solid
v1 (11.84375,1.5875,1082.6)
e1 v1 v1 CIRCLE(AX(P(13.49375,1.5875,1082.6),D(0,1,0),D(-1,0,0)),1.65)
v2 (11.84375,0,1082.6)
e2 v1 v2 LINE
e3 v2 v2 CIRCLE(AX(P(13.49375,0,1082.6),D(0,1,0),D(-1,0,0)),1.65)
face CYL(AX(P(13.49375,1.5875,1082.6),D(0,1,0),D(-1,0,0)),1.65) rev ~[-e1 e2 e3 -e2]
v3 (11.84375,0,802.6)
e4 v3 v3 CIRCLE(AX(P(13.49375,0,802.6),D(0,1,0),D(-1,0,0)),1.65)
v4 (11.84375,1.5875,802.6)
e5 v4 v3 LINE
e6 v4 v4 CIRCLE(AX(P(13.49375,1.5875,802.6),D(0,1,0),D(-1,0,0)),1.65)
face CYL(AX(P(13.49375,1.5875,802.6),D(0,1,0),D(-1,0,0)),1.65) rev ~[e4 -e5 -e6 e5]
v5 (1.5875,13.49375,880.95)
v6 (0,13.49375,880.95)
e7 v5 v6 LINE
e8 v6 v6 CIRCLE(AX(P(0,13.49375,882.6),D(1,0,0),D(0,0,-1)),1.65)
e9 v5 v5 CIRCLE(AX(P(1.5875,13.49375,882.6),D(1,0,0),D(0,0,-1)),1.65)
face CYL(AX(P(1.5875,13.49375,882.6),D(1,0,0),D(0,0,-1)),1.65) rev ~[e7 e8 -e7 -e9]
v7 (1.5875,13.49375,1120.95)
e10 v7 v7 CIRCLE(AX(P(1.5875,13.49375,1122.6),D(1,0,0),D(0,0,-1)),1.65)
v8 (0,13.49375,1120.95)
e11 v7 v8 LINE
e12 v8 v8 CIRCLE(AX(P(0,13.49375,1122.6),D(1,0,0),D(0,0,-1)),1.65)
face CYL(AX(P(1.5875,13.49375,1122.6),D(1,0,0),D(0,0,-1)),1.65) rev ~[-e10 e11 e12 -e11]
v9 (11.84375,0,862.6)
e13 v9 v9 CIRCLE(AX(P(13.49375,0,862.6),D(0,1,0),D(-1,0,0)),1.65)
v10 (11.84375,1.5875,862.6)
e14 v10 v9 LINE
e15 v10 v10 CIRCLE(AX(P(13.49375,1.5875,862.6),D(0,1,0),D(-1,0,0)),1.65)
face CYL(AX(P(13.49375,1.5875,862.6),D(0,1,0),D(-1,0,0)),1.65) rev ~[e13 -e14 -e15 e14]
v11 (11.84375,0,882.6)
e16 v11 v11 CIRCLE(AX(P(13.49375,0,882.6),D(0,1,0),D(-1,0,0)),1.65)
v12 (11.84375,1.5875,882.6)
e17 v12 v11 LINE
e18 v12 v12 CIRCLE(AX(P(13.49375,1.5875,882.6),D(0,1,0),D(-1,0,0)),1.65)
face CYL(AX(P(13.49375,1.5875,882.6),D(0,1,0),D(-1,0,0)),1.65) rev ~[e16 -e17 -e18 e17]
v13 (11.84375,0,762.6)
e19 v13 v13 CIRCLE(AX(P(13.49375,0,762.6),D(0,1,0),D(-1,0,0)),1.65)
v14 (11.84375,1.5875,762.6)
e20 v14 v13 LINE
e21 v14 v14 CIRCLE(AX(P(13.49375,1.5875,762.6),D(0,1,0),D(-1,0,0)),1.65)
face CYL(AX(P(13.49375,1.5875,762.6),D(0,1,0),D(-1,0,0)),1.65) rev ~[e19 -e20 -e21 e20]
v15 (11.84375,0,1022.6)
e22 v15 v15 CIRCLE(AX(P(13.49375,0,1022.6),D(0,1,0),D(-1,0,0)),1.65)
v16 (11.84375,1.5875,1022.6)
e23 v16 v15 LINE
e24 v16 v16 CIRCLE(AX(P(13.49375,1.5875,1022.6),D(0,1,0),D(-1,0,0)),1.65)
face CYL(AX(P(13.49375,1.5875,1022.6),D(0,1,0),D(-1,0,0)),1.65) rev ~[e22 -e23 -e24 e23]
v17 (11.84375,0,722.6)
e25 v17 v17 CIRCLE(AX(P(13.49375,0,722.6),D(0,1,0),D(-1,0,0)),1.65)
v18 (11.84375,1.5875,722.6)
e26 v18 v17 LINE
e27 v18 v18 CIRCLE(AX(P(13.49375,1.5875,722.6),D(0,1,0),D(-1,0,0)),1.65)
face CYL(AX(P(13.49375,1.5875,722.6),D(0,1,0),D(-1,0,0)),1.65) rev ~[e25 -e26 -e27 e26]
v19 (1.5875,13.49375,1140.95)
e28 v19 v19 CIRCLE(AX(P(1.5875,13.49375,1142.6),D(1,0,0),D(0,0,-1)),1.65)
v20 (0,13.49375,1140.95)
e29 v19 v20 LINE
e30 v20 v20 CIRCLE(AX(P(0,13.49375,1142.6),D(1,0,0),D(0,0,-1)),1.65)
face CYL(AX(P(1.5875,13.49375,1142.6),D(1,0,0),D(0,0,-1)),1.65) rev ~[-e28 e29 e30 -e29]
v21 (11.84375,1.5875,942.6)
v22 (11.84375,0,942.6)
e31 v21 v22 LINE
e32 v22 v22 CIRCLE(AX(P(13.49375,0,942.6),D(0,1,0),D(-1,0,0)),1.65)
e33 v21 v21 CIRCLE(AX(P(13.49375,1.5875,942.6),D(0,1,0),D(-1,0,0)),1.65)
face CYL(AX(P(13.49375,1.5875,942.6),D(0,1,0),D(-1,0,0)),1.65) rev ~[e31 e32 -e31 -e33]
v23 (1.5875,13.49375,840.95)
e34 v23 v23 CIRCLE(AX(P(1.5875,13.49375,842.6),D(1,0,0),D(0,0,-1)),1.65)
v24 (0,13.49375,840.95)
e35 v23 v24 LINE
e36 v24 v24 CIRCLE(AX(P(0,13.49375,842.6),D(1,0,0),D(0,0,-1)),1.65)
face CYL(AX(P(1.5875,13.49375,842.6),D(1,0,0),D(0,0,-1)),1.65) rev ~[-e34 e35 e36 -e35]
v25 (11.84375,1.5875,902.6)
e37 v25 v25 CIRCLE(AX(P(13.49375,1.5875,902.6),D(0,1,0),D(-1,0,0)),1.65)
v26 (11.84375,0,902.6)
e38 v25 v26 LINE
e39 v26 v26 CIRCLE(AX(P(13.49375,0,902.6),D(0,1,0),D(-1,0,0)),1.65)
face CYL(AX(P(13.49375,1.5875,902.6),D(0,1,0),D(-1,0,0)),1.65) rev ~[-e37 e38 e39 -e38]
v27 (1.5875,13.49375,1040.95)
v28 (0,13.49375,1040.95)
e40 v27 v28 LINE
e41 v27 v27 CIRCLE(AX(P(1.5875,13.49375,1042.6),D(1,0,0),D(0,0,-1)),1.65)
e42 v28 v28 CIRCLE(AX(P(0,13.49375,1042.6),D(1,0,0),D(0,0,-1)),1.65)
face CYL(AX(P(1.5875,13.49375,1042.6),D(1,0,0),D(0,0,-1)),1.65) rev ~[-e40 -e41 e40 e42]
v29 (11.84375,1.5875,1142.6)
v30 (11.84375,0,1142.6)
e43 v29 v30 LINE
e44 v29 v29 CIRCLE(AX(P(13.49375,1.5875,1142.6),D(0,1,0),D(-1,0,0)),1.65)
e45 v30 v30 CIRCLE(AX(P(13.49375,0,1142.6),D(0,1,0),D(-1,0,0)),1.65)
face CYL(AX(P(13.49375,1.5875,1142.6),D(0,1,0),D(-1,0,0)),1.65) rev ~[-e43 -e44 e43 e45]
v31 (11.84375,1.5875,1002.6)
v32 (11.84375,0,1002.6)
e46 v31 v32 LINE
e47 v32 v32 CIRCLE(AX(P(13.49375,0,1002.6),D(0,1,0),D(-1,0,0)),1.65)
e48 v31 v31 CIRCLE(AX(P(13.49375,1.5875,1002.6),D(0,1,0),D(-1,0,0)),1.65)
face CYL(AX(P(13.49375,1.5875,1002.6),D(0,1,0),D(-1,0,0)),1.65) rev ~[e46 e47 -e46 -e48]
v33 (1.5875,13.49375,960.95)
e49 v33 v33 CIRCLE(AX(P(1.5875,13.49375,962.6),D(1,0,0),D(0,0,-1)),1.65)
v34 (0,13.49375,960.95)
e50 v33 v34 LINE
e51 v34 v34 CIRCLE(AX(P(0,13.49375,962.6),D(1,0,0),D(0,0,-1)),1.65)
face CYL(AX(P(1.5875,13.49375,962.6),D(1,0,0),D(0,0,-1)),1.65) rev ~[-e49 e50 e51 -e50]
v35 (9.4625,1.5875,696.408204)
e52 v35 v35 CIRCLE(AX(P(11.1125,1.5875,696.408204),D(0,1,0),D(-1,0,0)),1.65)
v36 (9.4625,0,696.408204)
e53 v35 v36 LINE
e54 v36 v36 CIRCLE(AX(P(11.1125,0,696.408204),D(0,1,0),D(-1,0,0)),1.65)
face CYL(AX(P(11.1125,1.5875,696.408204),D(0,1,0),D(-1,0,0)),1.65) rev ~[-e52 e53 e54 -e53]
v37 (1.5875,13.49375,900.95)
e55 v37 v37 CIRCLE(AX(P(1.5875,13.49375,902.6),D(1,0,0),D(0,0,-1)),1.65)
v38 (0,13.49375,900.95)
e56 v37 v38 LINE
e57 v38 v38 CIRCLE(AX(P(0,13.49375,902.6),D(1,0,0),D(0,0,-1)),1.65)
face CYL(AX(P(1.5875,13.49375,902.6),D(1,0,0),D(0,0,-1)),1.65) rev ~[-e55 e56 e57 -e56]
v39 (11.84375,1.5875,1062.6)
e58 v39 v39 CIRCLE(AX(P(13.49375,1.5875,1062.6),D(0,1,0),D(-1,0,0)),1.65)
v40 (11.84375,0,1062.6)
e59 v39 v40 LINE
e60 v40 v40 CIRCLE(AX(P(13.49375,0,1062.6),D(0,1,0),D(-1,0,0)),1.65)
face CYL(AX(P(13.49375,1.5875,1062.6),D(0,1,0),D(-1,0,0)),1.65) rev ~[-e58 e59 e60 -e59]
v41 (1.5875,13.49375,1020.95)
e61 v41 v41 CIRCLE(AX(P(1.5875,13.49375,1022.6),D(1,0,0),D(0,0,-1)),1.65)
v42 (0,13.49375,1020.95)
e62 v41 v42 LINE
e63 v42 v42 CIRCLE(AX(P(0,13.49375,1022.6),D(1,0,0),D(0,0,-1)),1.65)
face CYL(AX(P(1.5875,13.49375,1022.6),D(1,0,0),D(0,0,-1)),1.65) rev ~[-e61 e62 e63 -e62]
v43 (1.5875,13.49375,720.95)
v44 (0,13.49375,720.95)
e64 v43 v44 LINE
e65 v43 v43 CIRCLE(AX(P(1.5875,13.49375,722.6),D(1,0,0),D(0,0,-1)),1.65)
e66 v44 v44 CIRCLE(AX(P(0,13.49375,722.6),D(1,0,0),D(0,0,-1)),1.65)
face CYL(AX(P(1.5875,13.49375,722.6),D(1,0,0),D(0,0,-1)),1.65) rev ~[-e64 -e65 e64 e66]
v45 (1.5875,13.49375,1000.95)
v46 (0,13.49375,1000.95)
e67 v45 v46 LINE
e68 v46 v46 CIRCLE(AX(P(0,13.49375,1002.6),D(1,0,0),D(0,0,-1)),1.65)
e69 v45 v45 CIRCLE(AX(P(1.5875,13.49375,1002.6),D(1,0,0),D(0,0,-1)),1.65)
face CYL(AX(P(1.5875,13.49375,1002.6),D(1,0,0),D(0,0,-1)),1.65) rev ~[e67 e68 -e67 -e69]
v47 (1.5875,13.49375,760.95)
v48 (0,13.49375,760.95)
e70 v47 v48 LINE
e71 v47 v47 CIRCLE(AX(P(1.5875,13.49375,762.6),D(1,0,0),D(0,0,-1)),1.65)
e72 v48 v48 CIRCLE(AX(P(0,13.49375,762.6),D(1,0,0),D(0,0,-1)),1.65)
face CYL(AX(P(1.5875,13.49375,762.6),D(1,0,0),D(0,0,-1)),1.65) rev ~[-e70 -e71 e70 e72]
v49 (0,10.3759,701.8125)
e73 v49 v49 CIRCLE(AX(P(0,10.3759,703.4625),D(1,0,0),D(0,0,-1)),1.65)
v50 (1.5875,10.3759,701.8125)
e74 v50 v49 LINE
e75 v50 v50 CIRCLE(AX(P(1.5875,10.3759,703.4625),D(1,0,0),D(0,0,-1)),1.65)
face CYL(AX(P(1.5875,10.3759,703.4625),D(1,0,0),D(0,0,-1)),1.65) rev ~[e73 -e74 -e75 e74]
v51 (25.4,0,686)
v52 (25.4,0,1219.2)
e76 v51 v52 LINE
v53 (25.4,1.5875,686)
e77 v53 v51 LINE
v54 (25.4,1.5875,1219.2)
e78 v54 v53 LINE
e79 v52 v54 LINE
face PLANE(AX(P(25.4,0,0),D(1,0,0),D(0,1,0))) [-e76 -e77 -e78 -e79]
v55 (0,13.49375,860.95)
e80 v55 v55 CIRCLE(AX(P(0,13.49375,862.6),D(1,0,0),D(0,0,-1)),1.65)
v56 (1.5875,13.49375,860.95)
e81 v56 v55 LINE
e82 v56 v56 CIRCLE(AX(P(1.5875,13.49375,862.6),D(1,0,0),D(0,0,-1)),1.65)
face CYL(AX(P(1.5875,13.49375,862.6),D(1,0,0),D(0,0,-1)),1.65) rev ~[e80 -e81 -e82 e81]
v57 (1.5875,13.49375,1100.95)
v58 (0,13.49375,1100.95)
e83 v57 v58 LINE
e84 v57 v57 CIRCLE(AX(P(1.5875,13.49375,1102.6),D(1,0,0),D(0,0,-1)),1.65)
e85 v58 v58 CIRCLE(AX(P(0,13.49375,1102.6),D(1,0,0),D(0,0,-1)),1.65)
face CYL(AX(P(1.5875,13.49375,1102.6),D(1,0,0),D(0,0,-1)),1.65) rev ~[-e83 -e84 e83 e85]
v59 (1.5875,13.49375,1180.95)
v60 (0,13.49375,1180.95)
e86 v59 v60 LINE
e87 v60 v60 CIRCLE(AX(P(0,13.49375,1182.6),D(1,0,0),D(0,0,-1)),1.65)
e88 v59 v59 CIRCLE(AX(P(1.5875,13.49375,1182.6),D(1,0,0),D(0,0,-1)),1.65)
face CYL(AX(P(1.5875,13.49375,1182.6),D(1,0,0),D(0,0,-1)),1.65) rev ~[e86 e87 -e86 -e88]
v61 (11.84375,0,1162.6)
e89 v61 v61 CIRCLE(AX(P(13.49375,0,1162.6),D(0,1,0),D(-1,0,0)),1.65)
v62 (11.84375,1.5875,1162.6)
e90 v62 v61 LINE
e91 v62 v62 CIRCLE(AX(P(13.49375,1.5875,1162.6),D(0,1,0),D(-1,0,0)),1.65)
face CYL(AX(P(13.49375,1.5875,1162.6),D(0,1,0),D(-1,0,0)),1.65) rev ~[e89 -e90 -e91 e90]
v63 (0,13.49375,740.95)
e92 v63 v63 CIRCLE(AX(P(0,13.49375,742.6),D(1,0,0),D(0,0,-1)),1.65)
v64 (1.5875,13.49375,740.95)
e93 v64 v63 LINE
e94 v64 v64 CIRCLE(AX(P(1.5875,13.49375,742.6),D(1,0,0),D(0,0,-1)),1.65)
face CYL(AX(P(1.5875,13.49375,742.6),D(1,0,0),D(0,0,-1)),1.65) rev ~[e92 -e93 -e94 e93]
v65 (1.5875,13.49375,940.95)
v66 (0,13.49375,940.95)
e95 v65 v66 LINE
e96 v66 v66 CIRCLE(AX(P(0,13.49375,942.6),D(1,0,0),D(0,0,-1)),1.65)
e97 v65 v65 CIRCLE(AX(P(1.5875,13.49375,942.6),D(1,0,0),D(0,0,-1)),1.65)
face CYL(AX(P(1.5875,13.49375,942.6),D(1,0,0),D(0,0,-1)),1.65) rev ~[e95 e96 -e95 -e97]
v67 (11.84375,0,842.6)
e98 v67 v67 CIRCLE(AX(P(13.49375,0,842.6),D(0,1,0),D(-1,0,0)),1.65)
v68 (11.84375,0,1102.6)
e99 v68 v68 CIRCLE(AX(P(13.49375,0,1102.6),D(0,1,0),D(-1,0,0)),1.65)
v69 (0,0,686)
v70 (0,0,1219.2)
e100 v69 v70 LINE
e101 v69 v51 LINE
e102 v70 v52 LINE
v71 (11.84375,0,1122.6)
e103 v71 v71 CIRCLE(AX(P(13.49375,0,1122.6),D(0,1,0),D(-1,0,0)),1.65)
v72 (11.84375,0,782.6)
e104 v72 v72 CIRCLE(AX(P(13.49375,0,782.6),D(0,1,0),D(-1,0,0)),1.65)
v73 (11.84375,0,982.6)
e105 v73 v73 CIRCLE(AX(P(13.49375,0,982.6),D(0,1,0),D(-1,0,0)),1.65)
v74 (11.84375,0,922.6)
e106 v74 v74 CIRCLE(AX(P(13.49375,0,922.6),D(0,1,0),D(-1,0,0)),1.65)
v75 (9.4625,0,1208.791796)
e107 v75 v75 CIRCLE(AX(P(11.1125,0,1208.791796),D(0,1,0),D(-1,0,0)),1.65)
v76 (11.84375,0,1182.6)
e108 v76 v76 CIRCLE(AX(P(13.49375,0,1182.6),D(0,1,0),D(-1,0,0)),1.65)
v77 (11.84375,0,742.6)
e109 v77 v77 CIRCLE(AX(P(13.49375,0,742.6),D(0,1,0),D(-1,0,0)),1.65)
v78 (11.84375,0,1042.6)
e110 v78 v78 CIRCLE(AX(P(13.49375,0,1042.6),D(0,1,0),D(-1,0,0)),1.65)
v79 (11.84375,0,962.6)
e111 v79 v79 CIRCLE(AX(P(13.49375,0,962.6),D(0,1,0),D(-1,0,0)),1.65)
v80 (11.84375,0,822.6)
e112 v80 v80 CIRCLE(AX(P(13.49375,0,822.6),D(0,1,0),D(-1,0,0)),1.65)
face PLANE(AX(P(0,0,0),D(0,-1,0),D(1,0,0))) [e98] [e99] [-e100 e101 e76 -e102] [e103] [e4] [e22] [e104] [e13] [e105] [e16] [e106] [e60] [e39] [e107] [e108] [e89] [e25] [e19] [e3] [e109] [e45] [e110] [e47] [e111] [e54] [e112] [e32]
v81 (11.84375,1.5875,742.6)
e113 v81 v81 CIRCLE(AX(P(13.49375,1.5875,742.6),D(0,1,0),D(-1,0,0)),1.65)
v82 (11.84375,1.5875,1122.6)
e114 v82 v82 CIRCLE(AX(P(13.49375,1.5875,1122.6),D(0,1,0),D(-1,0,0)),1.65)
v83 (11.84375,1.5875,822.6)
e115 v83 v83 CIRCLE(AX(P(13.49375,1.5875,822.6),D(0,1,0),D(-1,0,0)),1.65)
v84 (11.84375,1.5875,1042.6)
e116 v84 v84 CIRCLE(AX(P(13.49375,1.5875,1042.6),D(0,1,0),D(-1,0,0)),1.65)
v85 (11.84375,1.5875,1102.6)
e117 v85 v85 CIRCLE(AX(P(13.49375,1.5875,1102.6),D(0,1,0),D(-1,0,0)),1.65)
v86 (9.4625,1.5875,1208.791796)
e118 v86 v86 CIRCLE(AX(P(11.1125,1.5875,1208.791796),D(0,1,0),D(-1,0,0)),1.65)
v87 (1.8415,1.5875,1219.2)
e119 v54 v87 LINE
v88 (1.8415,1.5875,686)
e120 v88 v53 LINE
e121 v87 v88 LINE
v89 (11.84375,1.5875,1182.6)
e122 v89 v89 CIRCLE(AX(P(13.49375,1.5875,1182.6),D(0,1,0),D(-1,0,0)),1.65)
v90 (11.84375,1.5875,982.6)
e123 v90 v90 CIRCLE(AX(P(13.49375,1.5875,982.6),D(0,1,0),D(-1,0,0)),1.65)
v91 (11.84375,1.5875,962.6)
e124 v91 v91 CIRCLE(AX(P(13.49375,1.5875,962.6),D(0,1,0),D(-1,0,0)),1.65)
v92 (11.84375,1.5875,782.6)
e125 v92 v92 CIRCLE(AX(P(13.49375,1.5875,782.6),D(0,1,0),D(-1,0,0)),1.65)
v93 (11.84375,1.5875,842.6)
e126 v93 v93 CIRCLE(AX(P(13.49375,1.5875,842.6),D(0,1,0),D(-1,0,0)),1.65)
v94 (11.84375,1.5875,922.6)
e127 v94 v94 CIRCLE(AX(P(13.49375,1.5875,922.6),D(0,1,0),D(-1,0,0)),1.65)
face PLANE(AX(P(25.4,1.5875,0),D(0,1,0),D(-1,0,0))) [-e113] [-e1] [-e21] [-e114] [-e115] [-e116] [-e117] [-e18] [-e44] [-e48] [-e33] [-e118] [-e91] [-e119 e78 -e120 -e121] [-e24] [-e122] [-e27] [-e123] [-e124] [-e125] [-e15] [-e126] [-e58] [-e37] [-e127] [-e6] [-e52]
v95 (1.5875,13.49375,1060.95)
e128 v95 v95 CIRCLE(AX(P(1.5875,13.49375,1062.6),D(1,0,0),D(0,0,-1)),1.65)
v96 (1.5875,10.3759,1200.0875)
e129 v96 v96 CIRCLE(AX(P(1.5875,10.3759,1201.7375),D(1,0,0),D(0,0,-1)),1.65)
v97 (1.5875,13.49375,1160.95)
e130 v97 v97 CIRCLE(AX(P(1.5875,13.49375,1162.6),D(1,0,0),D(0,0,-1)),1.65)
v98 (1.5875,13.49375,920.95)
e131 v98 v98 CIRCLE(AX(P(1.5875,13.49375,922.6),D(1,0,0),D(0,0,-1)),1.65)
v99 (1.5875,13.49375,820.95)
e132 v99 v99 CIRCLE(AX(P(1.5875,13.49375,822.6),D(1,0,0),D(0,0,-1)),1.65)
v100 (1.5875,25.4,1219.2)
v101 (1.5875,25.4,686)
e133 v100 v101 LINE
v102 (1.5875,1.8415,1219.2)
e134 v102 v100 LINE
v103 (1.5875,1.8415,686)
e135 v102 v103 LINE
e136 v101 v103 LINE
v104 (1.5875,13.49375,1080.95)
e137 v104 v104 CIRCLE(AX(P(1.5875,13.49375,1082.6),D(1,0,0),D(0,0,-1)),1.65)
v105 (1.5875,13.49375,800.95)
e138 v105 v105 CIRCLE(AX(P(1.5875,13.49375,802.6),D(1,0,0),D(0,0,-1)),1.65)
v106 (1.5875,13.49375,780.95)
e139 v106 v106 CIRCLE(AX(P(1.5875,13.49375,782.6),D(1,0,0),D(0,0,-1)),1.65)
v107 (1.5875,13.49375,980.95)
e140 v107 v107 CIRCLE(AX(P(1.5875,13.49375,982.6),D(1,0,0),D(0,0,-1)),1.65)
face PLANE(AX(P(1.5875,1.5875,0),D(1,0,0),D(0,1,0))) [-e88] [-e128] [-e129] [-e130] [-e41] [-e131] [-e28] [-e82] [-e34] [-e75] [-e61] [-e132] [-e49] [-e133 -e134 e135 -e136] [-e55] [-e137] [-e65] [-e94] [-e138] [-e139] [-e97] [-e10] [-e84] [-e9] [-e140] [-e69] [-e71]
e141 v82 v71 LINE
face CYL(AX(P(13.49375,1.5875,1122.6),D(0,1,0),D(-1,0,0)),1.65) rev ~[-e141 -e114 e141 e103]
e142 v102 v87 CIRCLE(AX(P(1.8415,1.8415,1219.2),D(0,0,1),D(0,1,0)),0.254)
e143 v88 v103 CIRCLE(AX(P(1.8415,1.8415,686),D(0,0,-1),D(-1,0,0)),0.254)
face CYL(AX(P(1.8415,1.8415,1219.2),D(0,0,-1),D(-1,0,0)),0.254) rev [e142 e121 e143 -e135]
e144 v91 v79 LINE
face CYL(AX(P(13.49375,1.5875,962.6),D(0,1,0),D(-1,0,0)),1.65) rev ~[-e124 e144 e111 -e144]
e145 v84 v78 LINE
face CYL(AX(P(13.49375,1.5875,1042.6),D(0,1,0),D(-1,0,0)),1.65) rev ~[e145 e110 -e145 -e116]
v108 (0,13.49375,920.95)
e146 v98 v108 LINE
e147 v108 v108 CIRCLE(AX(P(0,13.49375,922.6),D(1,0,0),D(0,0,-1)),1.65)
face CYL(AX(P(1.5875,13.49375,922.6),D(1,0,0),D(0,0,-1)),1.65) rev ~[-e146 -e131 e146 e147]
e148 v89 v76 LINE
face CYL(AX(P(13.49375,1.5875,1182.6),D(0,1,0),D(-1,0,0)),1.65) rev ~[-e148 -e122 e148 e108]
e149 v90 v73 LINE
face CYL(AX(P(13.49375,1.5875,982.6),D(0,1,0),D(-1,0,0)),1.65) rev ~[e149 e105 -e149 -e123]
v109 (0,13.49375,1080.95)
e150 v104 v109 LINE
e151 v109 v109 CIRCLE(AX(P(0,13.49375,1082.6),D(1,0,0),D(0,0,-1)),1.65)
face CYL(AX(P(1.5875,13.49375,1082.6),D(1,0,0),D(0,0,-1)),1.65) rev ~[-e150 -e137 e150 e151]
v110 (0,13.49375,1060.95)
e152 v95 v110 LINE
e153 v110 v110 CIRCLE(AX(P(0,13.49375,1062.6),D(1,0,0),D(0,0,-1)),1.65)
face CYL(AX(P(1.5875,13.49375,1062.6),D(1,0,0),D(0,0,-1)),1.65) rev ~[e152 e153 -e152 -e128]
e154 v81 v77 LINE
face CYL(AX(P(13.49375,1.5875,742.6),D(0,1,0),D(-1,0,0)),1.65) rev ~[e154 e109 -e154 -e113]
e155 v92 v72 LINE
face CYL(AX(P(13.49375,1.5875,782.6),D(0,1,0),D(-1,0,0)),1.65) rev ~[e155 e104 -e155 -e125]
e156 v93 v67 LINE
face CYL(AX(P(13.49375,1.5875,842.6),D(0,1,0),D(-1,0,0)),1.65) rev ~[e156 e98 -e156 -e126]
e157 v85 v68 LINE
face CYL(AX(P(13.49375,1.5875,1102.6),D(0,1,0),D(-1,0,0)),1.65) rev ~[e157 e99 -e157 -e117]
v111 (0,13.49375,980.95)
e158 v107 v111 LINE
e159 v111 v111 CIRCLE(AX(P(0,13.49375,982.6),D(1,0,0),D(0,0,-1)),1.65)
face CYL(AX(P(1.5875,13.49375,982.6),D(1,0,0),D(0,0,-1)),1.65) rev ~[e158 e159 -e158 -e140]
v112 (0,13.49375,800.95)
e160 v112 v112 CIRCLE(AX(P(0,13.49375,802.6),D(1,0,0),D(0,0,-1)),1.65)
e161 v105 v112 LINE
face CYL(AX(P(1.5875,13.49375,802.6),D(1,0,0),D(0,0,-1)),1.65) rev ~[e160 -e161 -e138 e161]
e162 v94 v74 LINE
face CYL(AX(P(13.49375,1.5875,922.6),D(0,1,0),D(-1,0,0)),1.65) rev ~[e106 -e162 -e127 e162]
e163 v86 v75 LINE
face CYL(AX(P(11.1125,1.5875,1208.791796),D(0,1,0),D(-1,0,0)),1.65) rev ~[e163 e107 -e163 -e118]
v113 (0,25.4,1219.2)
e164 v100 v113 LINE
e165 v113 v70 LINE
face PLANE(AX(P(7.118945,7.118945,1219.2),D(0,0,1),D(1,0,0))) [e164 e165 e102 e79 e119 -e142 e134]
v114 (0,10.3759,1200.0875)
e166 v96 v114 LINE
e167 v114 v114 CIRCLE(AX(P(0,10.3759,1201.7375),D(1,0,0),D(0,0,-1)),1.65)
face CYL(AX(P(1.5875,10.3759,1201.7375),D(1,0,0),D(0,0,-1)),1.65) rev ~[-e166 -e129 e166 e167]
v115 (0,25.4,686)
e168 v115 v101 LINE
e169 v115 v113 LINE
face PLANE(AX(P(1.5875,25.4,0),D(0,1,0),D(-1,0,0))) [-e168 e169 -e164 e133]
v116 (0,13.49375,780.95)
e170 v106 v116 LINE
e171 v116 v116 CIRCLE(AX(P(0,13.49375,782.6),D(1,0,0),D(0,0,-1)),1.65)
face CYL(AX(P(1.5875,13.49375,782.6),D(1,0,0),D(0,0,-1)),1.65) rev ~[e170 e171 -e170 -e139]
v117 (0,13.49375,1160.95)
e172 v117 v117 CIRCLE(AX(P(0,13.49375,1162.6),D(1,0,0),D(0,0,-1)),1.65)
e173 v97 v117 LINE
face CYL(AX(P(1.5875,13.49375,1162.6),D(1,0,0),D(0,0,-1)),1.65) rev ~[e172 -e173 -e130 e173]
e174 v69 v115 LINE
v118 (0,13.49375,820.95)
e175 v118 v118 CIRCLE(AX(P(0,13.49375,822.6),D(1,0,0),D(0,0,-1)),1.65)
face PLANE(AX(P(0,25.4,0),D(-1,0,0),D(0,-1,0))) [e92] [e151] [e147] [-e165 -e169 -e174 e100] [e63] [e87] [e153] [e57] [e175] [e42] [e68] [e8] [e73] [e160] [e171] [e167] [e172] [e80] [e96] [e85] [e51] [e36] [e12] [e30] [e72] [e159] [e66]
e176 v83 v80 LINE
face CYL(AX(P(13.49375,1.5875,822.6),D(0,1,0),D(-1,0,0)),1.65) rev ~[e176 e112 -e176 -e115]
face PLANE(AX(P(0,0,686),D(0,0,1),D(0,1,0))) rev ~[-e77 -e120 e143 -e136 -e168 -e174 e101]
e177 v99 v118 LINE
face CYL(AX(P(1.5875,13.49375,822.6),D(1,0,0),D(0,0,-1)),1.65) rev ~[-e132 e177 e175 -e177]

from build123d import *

# Parameters (mm, degrees)
BOSS_EXTRUDE1_DEPTH = 1219.2
FILLET1_R           = 0.254
SKETCH4_W           = 1905.2
SKETCH4_H           = 74.945320812
CUT_EXTRUDE1_DEPTH  = 60
SKETCH9_R           = 1.65
CUT_EXTRUDE5_DEPTH  = 60
SKETCH10_R          = 1.65
CUT_EXTRUDE6_DEPTH  = 60


with BuildPart() as part:
    # Sketch3 → Boss-Extrude1 (new, symmetric)
    with BuildSketch(Plane.XY):
        Polygon((1.5875, 25.4), (0, 25.4), (0, 0), (25.4, 0), (25.4, 1.5875), (1.5875, 1.5875), align=None)
    extrude(amount=BOSS_EXTRUDE1_DEPTH, both=True)

    # Fillet1
    fillet1_edges = [part.edges().sort_by_distance(p)[0] for p in [
        (1.5875, 1.5875, 0),
    ]]
    fillet(fillet1_edges, radius=FILLET1_R)

    # Sketch4 → Cut-Extrude1 (cut)
    with BuildSketch(Plane.ZY):
        with Locations((-266.6, 37.472660406)):
            Rectangle(SKETCH4_W, SKETCH4_H)
    extrude(amount=-CUT_EXTRUDE1_DEPTH, mode=Mode.SUBTRACT)

    # Sketch9 → Cut-Extrude5 (cut)
    with BuildSketch(Plane(origin=(1.5875, 0, 0), x_dir=(0, 0, -1), z_dir=(1, 0, 0))):
        with Locations((-1201.7375, 10.3759)):
            Circle(SKETCH9_R)
        with Locations((-703.4625, 10.3759)):
            Circle(SKETCH9_R)
        with Locations((-722.6, 13.49375)):
            Circle(SKETCH9_R)
        with Locations((-742.6, 13.49375)):
            Circle(SKETCH9_R)
        with Locations((-762.6, 13.49375)):
            Circle(SKETCH9_R)
        with Locations((-782.6, 13.49375)):
            Circle(SKETCH9_R)
        with Locations((-802.6, 13.49375)):
            Circle(SKETCH9_R)
        with Locations((-822.6, 13.49375)):
            Circle(SKETCH9_R)
        with Locations((-842.6, 13.49375)):
            Circle(SKETCH9_R)
        with Locations((-862.6, 13.49375)):
            Circle(SKETCH9_R)
        with Locations((-882.6, 13.49375)):
            Circle(SKETCH9_R)
        with Locations((-902.6, 13.49375)):
            Circle(SKETCH9_R)
        with Locations((-922.6, 13.49375)):
            Circle(SKETCH9_R)
        with Locations((-942.6, 13.49375)):
            Circle(SKETCH9_R)
        with Locations((-962.6, 13.49375)):
            Circle(SKETCH9_R)
        with Locations((-982.6, 13.49375)):
            Circle(SKETCH9_R)
        with Locations((-1002.6, 13.49375)):
            Circle(SKETCH9_R)
        with Locations((-1022.6, 13.49375)):
            Circle(SKETCH9_R)
        with Locations((-1042.6, 13.49375)):
            Circle(SKETCH9_R)
        with Locations((-1062.6, 13.49375)):
            Circle(SKETCH9_R)
        with Locations((-1082.6, 13.49375)):
            Circle(SKETCH9_R)
        with Locations((-1102.6, 13.49375)):
            Circle(SKETCH9_R)
        with Locations((-1122.6, 13.49375)):
            Circle(SKETCH9_R)
        with Locations((-1142.6, 13.49375)):
            Circle(SKETCH9_R)
        with Locations((-1162.6, 13.49375)):
            Circle(SKETCH9_R)
        with Locations((-1182.6, 13.49375)):
            Circle(SKETCH9_R)
    extrude(amount=-CUT_EXTRUDE5_DEPTH, mode=Mode.SUBTRACT)

    # Sketch10 → Cut-Extrude6 (cut)
    with BuildSketch(Plane(origin=(0, 1.5875, 0), x_dir=(1, 0, 0), z_dir=(0, 1, 0))):
        with Locations(Location((11.1125, -696.408204333, 0), (0, 0, 180))):
            Circle(SKETCH10_R)
        with Locations(Location((11.1125, -1208.791795667, 0), (0, 0, 180))):
            Circle(SKETCH10_R)
        with Locations(Location((13.49375, -1182.6, 0), (0, 0, 180))):
            Circle(SKETCH10_R)
        with Locations(Location((13.49375, -1162.6, 0), (0, 0, 180))):
            Circle(SKETCH10_R)
        with Locations(Location((13.49375, -1142.6, 0), (0, 0, 180))):
            Circle(SKETCH10_R)
        with Locations(Location((13.49375, -1122.6, 0), (0, 0, 180))):
            Circle(SKETCH10_R)
        with Locations(Location((13.49375, -1102.6, 0), (0, 0, 180))):
            Circle(SKETCH10_R)
        with Locations(Location((13.49375, -1082.6, 0), (0, 0, 180))):
            Circle(SKETCH10_R)
        with Locations(Location((13.49375, -1062.6, 0), (0, 0, 180))):
            Circle(SKETCH10_R)
        with Locations(Location((13.49375, -1042.6, 0), (0, 0, 180))):
            Circle(SKETCH10_R)
        with Locations(Location((13.49375, -1022.6, 0), (0, 0, 180))):
            Circle(SKETCH10_R)
        with Locations(Location((13.49375, -1002.6, 0), (0, 0, 180))):
            Circle(SKETCH10_R)
        with Locations(Location((13.49375, -982.6, 0), (0, 0, 180))):
            Circle(SKETCH10_R)
        with Locations(Location((13.49375, -962.6, 0), (0, 0, 180))):
            Circle(SKETCH10_R)
        with Locations(Location((13.49375, -942.6, 0), (0, 0, 180))):
            Circle(SKETCH10_R)
        with Locations(Location((13.49375, -922.6, 0), (0, 0, 180))):
            Circle(SKETCH10_R)
        with Locations(Location((13.49375, -902.6, 0), (0, 0, 180))):
            Circle(SKETCH10_R)
        with Locations(Location((13.49375, -882.6, 0), (0, 0, 180))):
            Circle(SKETCH10_R)
        with Locations(Location((13.49375, -862.6, 0), (0, 0, 180))):
            Circle(SKETCH10_R)
        with Locations(Location((13.49375, -842.6, 0), (0, 0, 180))):
            Circle(SKETCH10_R)
        with Locations(Location((13.49375, -822.6, 0), (0, 0, 180))):
            Circle(SKETCH10_R)
        with Locations(Location((13.49375, -802.6, 0), (0, 0, 180))):
            Circle(SKETCH10_R)
        with Locations(Location((13.49375, -782.6, 0), (0, 0, 180))):
            Circle(SKETCH10_R)
        with Locations(Location((13.49375, -762.6, 0), (0, 0, 180))):
            Circle(SKETCH10_R)
        with Locations(Location((13.49375, -742.6, 0), (0, 0, 180))):
            Circle(SKETCH10_R)
        with Locations(Location((13.49375, -722.6, 0), (0, 0, 180))):
            Circle(SKETCH10_R)
    extrude(amount=-CUT_EXTRUDE6_DEPTH, mode=Mode.SUBTRACT)


solid = part.part
